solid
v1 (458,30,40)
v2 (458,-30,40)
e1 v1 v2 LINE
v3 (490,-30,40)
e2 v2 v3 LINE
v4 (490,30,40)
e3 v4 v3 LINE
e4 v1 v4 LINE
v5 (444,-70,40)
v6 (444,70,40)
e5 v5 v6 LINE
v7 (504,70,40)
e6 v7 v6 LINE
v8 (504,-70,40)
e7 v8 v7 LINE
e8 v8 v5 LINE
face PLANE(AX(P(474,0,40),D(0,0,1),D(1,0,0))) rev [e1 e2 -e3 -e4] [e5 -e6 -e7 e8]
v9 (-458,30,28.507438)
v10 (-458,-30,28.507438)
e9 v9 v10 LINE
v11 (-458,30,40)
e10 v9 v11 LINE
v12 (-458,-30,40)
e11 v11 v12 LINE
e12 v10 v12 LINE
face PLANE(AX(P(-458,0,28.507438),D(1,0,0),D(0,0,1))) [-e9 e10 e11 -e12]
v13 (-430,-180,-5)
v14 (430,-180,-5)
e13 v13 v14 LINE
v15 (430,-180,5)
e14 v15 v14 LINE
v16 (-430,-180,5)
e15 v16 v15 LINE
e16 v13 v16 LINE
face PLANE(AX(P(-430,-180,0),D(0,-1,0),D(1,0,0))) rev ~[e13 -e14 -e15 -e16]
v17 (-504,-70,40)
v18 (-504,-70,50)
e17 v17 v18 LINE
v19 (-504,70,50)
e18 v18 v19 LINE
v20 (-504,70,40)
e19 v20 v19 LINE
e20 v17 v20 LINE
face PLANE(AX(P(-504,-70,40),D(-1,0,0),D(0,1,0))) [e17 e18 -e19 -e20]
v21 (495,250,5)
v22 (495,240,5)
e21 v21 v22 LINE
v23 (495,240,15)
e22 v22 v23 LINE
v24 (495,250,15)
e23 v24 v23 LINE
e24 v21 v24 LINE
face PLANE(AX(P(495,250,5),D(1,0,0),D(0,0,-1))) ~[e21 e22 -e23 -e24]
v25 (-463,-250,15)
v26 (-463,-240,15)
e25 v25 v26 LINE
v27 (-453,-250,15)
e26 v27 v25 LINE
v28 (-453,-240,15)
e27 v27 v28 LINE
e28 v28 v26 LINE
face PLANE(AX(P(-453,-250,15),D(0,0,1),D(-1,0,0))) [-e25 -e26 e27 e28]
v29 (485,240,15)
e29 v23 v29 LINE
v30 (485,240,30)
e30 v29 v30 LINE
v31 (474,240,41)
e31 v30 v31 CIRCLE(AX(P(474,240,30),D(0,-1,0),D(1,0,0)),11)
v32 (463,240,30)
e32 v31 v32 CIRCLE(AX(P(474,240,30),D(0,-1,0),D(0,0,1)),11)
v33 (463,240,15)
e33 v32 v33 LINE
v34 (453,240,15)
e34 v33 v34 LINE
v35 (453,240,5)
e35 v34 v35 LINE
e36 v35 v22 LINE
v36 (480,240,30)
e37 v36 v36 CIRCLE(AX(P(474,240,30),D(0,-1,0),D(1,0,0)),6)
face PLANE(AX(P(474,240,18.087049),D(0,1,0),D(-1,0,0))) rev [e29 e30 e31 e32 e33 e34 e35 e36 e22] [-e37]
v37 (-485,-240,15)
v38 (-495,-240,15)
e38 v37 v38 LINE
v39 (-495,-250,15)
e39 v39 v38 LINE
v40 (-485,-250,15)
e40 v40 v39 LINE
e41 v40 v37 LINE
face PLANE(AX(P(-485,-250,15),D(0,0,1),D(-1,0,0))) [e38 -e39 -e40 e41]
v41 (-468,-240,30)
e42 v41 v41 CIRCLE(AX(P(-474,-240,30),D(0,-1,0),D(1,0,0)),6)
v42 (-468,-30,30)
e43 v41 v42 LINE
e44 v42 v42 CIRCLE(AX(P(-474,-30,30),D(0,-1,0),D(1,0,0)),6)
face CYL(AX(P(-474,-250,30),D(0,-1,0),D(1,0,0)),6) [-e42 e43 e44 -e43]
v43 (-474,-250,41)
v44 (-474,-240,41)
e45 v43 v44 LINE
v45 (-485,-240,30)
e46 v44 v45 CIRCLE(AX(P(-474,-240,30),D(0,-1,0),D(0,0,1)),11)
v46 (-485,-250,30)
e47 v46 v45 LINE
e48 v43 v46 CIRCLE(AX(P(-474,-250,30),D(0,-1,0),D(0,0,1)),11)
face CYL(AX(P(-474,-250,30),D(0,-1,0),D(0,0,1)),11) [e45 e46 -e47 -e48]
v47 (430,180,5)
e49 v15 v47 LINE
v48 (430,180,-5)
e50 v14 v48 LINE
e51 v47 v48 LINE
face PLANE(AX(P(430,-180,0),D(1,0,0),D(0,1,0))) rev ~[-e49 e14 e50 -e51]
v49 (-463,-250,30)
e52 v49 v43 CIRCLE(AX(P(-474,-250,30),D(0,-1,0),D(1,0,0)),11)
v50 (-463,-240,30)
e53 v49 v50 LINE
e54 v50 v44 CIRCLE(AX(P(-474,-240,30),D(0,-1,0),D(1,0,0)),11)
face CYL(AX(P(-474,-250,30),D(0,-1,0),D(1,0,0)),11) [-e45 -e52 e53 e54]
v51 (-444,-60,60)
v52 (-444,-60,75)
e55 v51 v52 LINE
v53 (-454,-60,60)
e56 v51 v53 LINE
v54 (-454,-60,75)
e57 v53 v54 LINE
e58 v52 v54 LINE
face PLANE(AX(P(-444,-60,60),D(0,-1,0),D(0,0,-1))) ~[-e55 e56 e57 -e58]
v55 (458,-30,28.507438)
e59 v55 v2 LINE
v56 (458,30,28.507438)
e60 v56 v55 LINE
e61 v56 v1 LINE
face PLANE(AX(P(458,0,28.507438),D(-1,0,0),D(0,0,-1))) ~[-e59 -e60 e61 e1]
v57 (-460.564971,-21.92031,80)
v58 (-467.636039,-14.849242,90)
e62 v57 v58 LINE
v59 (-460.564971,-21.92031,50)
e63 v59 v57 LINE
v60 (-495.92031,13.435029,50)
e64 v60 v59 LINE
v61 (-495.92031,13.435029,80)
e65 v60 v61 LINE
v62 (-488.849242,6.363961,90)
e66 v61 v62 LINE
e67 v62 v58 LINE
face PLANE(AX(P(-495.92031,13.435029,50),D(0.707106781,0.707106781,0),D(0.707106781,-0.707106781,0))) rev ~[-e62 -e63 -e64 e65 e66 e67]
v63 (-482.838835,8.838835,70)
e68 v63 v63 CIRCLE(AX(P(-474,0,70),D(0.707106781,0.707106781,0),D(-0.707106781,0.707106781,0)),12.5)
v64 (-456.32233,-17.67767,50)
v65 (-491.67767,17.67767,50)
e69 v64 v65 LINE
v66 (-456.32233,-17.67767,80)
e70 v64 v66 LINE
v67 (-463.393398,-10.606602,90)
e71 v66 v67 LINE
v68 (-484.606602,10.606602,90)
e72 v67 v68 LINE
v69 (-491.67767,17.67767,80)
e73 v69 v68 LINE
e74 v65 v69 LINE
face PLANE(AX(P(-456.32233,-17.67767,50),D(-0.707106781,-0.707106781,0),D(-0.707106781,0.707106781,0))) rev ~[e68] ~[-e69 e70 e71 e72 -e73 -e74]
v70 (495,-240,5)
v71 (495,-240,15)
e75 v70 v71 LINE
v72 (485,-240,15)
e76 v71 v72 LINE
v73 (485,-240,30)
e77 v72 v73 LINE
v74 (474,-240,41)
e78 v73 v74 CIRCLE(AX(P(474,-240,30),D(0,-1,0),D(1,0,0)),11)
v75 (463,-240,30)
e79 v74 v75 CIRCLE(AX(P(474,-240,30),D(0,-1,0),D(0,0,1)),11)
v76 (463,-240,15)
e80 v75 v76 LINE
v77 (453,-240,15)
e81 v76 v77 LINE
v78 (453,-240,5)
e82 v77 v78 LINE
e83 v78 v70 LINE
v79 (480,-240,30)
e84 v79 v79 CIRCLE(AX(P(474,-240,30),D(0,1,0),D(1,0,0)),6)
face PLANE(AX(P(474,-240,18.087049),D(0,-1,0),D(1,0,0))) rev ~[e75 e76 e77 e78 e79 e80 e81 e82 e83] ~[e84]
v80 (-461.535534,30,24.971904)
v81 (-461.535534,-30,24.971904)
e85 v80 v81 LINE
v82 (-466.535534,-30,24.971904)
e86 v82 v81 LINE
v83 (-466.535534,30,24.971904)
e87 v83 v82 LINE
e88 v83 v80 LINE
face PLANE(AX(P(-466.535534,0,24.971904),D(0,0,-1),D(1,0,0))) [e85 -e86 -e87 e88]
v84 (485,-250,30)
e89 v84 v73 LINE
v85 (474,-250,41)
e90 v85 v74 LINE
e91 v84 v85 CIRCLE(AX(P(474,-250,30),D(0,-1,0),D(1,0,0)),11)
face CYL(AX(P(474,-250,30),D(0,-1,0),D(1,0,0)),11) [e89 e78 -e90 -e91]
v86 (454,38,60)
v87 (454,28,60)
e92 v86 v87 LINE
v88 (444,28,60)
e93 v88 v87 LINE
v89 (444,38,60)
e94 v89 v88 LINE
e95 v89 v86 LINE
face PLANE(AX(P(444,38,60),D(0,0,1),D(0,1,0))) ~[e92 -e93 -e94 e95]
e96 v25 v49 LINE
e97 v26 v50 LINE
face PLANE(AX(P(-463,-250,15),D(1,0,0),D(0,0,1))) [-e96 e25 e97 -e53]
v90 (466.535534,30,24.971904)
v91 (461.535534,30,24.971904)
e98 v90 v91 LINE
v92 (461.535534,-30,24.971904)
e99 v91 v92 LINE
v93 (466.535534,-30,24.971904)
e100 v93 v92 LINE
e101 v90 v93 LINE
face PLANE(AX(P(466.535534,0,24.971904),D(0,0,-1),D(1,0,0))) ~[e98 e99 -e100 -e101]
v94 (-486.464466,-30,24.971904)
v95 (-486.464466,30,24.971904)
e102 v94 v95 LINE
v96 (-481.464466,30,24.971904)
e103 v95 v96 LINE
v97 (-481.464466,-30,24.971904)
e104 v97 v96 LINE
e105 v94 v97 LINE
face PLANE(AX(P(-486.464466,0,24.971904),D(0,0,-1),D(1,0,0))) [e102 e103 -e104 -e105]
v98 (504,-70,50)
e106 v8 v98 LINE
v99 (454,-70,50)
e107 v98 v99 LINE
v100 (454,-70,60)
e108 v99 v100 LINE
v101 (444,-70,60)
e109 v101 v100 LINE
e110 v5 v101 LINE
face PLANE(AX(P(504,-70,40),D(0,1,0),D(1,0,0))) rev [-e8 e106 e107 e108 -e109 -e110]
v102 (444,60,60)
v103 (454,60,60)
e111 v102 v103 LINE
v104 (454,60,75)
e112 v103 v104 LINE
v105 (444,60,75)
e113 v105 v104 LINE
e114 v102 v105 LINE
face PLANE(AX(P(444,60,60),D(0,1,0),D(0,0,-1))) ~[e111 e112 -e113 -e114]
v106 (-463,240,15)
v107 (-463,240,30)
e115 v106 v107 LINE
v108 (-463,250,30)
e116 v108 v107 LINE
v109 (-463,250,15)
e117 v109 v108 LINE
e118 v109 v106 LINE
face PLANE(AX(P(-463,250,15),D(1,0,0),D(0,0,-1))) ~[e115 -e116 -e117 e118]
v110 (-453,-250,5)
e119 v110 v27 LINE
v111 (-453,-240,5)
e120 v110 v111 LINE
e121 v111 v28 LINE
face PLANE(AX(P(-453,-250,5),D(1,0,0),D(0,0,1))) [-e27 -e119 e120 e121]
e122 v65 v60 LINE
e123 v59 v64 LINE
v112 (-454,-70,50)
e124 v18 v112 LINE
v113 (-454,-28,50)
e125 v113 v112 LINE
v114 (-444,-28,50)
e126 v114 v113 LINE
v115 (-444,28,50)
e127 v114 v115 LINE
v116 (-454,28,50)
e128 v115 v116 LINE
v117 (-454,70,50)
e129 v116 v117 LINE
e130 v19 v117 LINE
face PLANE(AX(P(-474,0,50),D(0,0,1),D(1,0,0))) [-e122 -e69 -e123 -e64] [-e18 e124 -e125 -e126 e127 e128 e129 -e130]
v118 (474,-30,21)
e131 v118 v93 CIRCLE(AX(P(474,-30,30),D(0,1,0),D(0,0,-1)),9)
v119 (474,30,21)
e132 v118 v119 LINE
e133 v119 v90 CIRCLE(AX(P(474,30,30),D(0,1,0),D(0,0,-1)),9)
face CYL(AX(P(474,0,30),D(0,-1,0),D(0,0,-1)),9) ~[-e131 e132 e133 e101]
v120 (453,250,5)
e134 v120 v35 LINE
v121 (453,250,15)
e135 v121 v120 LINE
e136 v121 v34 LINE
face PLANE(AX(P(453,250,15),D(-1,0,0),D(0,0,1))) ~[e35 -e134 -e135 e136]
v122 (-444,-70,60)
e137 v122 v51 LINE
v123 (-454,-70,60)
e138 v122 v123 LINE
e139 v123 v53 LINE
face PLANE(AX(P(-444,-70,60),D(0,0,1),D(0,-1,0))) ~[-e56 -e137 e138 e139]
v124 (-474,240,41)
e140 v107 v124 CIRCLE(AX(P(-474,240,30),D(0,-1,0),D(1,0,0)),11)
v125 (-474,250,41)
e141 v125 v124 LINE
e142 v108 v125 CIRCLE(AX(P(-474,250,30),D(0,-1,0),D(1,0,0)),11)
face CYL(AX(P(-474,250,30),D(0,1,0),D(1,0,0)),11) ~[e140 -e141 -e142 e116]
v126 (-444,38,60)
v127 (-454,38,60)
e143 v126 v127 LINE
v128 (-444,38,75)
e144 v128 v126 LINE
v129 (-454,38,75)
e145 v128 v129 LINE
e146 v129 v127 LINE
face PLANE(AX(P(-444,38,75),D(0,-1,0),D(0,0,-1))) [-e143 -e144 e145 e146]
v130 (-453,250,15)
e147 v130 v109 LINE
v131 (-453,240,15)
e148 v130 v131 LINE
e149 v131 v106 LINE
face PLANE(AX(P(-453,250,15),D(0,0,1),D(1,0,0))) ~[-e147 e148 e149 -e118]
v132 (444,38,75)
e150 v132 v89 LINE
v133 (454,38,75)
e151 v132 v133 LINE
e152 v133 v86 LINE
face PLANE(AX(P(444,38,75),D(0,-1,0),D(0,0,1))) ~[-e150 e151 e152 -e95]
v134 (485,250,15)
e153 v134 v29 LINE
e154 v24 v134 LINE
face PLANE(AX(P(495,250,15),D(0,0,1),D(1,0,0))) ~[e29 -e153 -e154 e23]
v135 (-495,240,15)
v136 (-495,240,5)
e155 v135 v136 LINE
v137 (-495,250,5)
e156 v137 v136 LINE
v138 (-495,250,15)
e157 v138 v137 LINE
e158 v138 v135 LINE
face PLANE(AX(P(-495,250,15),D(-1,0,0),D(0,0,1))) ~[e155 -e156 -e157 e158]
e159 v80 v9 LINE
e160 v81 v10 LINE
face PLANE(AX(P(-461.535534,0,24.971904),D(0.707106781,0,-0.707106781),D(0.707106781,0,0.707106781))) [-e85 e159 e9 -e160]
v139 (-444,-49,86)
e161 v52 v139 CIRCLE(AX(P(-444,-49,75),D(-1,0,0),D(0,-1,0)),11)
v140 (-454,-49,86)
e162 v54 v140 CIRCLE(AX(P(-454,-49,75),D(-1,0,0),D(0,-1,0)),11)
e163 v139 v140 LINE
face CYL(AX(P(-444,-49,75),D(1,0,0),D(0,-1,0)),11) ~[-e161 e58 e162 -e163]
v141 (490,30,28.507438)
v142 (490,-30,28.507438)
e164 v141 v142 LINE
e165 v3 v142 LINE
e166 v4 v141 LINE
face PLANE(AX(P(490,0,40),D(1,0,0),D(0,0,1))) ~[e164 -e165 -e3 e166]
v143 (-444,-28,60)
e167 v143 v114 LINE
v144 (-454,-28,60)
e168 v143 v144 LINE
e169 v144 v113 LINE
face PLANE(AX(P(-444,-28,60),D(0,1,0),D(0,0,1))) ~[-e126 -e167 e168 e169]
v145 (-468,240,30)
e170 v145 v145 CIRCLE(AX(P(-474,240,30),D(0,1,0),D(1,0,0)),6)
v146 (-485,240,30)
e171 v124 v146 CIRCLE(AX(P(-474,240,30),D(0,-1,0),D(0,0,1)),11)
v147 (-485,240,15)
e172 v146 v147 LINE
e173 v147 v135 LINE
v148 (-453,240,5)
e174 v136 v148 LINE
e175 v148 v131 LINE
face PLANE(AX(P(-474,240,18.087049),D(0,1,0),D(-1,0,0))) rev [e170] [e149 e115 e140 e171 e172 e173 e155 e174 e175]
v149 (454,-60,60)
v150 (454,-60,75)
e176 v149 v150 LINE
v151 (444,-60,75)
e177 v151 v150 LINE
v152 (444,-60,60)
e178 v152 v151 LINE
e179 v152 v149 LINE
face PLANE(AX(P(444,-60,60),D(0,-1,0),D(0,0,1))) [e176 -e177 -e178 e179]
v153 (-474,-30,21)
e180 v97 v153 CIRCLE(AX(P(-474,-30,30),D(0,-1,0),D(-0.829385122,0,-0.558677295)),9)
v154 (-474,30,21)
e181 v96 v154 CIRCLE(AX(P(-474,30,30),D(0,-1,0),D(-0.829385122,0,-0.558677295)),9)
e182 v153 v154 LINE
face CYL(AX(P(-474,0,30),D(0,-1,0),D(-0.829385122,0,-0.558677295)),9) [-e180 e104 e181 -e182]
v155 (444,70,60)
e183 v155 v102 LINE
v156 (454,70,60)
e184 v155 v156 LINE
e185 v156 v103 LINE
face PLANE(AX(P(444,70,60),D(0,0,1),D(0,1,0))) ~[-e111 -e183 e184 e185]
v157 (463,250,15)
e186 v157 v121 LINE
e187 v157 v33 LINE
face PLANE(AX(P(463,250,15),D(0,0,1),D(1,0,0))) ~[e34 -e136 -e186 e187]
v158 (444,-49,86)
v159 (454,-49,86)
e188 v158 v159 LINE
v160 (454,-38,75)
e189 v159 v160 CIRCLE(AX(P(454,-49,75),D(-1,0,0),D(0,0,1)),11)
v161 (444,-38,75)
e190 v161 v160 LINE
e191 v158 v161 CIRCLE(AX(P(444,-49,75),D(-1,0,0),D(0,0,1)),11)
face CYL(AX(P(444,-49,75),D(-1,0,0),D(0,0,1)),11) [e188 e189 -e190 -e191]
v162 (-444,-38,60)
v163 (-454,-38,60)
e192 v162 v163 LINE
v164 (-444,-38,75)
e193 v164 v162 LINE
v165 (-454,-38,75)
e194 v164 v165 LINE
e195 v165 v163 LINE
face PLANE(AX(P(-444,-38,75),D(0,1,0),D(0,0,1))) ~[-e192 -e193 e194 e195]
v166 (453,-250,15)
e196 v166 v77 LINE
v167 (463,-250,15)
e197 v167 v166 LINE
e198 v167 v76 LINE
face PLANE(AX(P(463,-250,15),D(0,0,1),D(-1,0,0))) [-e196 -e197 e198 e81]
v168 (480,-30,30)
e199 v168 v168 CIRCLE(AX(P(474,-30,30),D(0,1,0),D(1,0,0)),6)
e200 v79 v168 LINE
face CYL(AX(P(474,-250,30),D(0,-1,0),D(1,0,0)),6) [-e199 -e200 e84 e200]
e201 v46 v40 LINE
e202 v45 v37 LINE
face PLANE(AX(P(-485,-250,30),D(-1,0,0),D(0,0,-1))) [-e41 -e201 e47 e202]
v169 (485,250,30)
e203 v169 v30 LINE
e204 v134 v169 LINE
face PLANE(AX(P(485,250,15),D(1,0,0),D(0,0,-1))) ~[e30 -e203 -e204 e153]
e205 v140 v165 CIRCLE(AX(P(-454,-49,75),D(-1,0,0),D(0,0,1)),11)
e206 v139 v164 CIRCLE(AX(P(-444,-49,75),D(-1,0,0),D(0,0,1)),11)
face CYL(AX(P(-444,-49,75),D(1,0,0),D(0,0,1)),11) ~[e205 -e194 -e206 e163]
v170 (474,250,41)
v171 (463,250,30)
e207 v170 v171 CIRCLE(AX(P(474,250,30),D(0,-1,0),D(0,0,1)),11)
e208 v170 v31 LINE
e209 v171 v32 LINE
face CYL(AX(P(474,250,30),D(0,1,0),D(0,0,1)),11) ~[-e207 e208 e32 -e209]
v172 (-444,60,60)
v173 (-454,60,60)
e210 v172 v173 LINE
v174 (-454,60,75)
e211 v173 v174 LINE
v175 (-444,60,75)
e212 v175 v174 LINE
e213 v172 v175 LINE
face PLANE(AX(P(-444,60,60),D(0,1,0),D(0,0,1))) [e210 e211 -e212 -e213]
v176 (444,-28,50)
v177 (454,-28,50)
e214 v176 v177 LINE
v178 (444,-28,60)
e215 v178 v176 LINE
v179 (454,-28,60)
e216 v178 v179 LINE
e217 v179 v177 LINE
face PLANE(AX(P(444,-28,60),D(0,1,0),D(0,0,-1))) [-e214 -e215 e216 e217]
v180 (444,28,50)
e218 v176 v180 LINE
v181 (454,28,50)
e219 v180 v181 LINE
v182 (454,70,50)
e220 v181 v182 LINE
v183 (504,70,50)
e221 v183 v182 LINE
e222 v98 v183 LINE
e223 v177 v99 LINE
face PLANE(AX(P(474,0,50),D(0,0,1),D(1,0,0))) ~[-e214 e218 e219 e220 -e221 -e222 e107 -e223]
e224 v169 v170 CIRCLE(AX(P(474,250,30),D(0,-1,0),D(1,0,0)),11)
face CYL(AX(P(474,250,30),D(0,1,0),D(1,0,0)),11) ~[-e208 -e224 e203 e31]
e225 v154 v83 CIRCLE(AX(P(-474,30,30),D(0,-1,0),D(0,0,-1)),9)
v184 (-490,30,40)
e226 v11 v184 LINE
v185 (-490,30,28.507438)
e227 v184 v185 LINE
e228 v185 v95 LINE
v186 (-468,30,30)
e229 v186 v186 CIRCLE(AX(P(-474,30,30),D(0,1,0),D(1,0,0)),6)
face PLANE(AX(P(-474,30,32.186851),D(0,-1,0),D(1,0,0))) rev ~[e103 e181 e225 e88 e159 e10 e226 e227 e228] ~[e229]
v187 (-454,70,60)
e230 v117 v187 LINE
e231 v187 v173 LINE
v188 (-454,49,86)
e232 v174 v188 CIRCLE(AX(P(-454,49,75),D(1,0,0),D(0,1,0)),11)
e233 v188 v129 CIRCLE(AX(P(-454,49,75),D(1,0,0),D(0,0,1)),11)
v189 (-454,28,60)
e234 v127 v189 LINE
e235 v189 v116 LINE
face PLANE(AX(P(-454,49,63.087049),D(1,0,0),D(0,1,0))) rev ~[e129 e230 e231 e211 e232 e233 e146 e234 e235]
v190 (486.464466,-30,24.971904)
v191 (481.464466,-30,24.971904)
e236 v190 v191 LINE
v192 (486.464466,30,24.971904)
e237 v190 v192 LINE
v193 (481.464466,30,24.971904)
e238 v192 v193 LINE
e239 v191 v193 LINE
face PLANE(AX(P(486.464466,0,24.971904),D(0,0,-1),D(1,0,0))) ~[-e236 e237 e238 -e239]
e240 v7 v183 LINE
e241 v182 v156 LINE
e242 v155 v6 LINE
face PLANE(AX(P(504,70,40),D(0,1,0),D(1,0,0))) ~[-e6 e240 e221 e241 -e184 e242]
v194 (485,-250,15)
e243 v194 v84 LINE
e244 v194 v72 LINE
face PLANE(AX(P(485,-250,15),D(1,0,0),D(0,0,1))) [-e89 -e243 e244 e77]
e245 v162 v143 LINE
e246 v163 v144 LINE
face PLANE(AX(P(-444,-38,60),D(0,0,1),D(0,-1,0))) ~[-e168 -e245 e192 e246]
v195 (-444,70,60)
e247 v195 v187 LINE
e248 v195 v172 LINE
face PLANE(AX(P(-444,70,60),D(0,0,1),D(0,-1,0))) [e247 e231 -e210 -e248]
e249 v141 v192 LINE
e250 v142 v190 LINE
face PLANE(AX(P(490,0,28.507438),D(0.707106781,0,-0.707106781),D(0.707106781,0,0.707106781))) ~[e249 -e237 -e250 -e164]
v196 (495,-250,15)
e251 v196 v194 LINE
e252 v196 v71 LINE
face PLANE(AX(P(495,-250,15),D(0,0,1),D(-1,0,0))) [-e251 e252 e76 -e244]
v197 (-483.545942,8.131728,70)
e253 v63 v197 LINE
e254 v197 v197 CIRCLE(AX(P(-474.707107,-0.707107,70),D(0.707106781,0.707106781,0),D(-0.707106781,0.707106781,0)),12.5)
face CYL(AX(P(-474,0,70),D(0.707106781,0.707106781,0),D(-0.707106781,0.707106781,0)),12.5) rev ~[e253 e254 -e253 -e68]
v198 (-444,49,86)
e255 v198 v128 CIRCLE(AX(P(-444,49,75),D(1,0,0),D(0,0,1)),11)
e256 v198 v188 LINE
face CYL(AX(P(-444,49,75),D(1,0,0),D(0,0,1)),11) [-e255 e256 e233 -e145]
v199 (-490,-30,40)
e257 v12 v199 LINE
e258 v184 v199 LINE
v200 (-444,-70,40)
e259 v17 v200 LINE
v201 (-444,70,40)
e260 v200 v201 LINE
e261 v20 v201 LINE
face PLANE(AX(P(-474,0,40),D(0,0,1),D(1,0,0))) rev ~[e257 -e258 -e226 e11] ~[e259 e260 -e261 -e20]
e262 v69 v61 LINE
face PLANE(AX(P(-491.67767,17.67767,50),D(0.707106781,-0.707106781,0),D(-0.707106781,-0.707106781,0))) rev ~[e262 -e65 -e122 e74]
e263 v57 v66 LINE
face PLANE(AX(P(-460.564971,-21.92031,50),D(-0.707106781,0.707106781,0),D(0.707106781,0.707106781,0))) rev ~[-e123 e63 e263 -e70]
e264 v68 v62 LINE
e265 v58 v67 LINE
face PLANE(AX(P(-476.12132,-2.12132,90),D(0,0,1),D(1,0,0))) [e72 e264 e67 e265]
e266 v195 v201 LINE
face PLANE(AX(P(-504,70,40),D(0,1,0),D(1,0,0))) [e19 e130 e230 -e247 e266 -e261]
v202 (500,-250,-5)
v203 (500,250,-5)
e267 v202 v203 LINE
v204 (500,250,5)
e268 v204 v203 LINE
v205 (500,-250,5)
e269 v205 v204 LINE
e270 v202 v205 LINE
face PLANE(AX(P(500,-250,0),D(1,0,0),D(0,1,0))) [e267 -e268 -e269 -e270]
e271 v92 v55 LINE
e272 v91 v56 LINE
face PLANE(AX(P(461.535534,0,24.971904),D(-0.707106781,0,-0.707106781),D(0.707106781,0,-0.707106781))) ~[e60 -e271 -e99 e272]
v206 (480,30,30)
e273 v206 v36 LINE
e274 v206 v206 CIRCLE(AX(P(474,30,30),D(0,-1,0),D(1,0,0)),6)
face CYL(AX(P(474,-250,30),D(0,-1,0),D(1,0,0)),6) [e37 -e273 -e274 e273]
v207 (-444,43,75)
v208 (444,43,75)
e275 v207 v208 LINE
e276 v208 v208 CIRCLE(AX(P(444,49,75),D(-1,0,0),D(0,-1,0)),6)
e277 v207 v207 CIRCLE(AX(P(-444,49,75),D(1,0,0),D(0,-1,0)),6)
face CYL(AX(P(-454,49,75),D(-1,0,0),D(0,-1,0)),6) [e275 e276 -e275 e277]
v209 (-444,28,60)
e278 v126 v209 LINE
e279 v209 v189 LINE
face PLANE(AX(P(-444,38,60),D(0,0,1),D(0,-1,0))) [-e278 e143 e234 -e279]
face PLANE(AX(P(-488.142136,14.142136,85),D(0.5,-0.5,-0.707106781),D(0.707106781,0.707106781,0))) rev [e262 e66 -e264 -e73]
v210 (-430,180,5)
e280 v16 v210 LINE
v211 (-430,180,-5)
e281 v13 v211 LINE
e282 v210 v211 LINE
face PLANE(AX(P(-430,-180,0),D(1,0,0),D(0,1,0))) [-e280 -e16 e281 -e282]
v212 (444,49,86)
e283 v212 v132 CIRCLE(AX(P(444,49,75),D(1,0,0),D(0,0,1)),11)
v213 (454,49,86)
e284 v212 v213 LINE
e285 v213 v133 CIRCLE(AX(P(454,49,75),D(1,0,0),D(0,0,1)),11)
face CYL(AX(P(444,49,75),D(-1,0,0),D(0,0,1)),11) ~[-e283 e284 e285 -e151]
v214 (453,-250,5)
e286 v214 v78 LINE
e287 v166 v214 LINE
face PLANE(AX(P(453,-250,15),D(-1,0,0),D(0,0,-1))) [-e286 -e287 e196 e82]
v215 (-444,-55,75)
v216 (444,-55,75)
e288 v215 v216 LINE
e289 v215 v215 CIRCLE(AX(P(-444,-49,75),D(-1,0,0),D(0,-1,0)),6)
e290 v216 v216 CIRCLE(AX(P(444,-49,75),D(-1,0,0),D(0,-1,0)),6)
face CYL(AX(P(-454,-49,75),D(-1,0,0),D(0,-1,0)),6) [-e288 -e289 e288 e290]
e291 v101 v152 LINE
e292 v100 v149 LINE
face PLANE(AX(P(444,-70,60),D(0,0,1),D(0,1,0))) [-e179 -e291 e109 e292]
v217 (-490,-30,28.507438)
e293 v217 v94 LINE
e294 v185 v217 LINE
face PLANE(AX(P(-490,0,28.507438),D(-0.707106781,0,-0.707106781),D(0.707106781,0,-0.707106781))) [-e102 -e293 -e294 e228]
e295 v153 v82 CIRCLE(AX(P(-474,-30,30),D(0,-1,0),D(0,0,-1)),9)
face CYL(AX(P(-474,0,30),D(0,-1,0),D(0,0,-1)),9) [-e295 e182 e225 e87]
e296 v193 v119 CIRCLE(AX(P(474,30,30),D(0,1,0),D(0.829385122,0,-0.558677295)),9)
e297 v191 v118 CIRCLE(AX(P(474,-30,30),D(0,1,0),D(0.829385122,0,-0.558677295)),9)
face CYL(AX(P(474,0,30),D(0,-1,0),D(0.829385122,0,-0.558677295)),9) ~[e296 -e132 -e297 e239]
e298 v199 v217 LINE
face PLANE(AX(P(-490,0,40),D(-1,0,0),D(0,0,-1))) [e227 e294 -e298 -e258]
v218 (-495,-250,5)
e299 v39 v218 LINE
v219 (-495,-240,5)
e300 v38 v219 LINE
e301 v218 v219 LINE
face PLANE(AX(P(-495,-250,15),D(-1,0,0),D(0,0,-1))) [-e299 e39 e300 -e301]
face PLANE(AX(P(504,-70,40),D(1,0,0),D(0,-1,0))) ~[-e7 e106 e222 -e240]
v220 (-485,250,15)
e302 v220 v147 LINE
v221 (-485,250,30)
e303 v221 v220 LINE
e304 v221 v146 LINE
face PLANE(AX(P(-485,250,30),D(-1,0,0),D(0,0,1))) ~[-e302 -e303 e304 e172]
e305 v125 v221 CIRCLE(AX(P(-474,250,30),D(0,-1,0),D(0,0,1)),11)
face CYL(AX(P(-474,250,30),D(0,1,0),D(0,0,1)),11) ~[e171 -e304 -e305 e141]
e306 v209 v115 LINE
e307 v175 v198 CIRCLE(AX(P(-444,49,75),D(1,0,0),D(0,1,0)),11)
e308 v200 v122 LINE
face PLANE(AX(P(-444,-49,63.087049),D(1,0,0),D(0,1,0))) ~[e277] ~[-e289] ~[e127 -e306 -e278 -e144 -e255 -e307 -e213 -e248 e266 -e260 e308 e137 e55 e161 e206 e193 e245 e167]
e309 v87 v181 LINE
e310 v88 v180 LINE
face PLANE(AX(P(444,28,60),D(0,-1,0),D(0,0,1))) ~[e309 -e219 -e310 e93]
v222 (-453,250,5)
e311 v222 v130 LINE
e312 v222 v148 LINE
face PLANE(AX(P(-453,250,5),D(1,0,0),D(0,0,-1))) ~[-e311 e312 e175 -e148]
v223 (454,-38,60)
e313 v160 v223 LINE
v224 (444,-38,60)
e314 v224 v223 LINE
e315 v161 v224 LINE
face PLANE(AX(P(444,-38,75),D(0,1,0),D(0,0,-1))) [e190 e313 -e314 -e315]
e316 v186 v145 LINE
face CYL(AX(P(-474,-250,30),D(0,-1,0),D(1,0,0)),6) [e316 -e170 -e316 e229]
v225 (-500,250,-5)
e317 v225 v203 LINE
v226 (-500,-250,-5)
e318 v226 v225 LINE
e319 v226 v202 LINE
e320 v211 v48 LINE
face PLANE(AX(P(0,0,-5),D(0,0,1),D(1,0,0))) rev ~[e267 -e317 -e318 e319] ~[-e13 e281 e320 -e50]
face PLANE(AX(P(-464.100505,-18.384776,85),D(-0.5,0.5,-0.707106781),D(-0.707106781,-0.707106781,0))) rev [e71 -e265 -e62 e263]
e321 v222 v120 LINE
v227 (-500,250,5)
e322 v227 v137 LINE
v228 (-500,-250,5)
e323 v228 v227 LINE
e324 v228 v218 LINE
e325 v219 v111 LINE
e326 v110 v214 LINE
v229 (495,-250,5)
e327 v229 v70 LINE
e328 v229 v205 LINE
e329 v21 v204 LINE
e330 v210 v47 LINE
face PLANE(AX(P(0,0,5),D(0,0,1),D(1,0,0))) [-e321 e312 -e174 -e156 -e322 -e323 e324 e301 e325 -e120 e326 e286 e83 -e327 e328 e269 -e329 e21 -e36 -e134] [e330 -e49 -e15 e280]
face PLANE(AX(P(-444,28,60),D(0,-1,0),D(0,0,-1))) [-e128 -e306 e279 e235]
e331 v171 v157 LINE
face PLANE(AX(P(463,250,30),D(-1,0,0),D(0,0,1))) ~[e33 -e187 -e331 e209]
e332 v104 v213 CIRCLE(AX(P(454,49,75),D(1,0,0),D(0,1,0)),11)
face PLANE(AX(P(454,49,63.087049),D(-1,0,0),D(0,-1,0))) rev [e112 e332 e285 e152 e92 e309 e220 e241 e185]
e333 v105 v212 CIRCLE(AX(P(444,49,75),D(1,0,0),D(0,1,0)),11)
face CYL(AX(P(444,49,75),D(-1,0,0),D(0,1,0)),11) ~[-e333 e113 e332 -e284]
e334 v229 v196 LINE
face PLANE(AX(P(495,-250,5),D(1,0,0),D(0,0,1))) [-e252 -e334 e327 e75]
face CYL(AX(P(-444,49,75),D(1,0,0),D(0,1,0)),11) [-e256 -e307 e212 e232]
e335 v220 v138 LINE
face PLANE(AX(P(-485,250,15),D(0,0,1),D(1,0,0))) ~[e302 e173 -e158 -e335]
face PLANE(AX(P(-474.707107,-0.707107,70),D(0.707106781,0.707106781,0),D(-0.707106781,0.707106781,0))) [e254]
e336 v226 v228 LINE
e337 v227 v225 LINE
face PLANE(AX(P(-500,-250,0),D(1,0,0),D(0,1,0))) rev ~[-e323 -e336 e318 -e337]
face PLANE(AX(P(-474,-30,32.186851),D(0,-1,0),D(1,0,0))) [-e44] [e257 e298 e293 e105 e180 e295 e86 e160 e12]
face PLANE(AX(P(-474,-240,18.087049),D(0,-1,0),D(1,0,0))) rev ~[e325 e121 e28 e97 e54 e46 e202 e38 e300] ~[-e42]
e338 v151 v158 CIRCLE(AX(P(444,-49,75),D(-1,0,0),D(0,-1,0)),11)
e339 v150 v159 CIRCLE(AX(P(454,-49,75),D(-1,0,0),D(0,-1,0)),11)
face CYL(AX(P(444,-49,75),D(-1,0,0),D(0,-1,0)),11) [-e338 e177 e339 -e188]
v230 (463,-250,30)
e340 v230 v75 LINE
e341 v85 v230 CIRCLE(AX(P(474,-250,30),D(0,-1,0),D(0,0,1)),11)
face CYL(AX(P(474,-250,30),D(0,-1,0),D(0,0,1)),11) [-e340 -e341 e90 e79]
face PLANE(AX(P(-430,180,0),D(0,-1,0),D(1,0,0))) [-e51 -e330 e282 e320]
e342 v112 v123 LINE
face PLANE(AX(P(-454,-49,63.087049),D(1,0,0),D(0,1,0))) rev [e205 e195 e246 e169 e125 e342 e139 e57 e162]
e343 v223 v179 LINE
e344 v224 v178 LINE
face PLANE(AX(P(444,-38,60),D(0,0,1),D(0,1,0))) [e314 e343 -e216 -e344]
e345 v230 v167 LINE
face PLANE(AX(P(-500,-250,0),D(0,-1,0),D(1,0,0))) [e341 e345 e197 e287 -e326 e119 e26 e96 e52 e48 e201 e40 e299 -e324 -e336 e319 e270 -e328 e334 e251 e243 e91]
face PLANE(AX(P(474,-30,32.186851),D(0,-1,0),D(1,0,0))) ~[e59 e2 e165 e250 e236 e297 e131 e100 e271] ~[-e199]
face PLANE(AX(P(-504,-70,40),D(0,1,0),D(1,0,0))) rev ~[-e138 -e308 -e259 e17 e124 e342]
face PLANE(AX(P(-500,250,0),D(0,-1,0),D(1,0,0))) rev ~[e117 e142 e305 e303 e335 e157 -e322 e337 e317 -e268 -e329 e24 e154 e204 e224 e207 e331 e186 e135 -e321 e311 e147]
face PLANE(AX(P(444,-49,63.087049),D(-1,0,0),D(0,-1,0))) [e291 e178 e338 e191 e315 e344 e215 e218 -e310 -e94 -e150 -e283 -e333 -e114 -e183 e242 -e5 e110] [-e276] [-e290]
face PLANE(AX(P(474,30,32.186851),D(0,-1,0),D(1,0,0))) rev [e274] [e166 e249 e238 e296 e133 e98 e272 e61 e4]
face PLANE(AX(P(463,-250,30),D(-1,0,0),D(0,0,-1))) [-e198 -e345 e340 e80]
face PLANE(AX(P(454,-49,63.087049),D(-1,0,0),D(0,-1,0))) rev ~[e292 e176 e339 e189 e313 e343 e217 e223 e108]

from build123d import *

# Parameters (mm, degrees)
F0_W      = 1000
F0_H      = 500
F0_W_2    = 860
F0_H_2    = 360
F1_DEPTH  = 5
F2_R      = 6
F3_DEPTH  = 10
F5_R      = 6
F6_DEPTH  = 500
F8_DEPTH  = 30
F10_W     = 60
F10_H     = 140
F11_DEPTH = 10
F13_R     = 6
F14_DEPTH = 10
F17_R     = 6
F18_DEPTH = 908
F20_DEPTH = 40
F22_SIZE  = 10
F21_R     = 12.5
F23_DEPTH = 1


with BuildPart() as f1:
    # F0 (on Top) → F1 (new body, symmetric)
    with BuildSketch(Plane.XY):
        Rectangle(F0_W, F0_H)
        Rectangle(F0_W_2, F0_H_2, mode=Mode.SUBTRACT)
    extrude(amount=F1_DEPTH, both=True)

    # F2 (on face) → F3 (join)
    with BuildSketch(Plane.XZ.offset(250)):
        with BuildLine():
            ThreePointArc((-474, 41), (-481.7781745931, 37.7781745931), (-485, 30))
            Line((-485, 30), (-485, 15))
            Line((-485, 15), (-495, 15))
            Line((-495, 15), (-495, 5))
            Line((-495, 5), (-453, 5))
            Line((-453, 5), (-453, 15))
            Line((-453, 15), (-463, 15))
            Line((-463, 15), (-463, 30))
            ThreePointArc((-463, 30), (-466.2218254069, 37.7781745931), (-474, 41))
        make_face()
        with Locations((-474, 30)):
            Circle(F2_R, mode=Mode.SUBTRACT)
        with BuildLine():
            ThreePointArc((474, 41), (466.2218254069, 37.7781745931), (463, 30))
            Line((463, 30), (463, 15))
            Line((463, 15), (453, 15))
            Line((453, 15), (453, 5))
            Line((453, 5), (495, 5))
            Line((495, 5), (495, 15))
            Line((495, 15), (485, 15))
            Line((485, 15), (485, 30))
            ThreePointArc((485, 30), (481.7781745931, 37.7781745931), (474, 41))
        make_face()
        with Locations((474, 30)):
            Circle(F2_R, mode=Mode.SUBTRACT)
    extrude(amount=-F3_DEPTH)

    # F4: F1 across plane


with BuildPart() as f1_1:
    add(f1.part)
    add(f1.part.mirror(Plane.XZ))

    # F5 (on face) → F6 (join, through all)
    with BuildSketch(Plane.XZ.offset(250)):
        with Locations((-474, 30)):
            Circle(F5_R)
        with Locations((474, 30)):
            Circle(F5_R)
    extrude(amount=-F6_DEPTH)

    # F7 (on Front) → F8 (join, symmetric)
    with BuildSketch(Plane.XZ):
        with BuildLine():
            ThreePointArc((-474, 21), (-469.7722855411, 22.0547856886), (-466.5355339059, 24.9719043435))
            Line((-466.5355339059, 24.9719043435), (-461.5355339059, 24.9719043435))
            Line((-461.5355339059, 24.9719043435), (-458, 28.5074382495))
            Line((-458, 28.5074382495), (-458, 40))
            Line((-458, 40), (-474, 40))
            Line((-474, 40), (-490, 40))
            Line((-490, 40), (-490, 28.5074382495))
            Line((-490, 28.5074382495), (-486.4644660941, 24.9719043435))
            Line((-486.4644660941, 24.9719043435), (-481.4644660941, 24.9719043435))
            ThreePointArc((-481.4644660941, 24.9719043435), (-478.2277144589, 22.0547856886), (-474, 21))
        make_face()
    extrude(amount=F8_DEPTH, both=True)

    # F9: F1 across plane


with BuildPart() as f1_2:
    add(f1_1.part)
    add(f1_1.part.mirror(Plane.YZ))

    # F10 (on face) → F11 (join)
    with BuildSketch(Plane.XY.offset(40)):
        with Locations((-474, 0)):
            Rectangle(F10_W, F10_H)
    extrude(amount=F11_DEPTH)

    # F12: F1 across plane


with BuildPart() as f1_3:
    add(f1_2.part)
    add(f1_2.part.mirror(Plane.YZ))

    # F13 (on face) → F14 (join)
    with BuildSketch(Plane.YZ.offset(-444)):
        with BuildLine():
            Line((28, 60), (28, 50))
            Line((28, 50), (49, 50))
            Line((49, 50), (70, 50))
            Line((70, 50), (70, 60))
            Line((70, 60), (60, 60))
            Line((60, 60), (60, 75))
            ThreePointArc((60, 75), (56.7781745931, 82.7781745931), (49, 86))
            ThreePointArc((49, 86), (41.2218254069, 82.7781745931), (38, 75))
            Line((38, 75), (38, 60))
            Line((38, 60), (28, 60))
        make_face()
        with Locations((49, 75)):
            Circle(F13_R, mode=Mode.SUBTRACT)
    extrude(amount=-F14_DEPTH)

    # F15: F1 across plane


with BuildPart() as f1_4:
    add(f1_3.part)
    add(f1_3.part.mirror(Plane.XZ))

    # F16: F1 across plane


with BuildPart() as f1_5:
    add(f1_4.part)
    add(f1_4.part.mirror(Plane.YZ))

    # F17 (on face) → F18 (join, through all)
    with BuildSketch(Plane(origin=(-454, 0, 0), x_dir=(0, -1, 0), z_dir=(-1, 0, 0))):
        with Locations((-49, 75)):
            Circle(F17_R)
        with Locations((49, 75)):
            Circle(F17_R)
    extrude(amount=-F18_DEPTH)

    # F19 (on face) → F20 (join)
    with BuildSketch(Plane.XY.offset(50)):
        Polygon((-456.3223304703, -17.6776695297), (-491.6776695297, 17.6776695297), (-495.9203102168, 13.4350288425), (-460.5649711575, -21.9203102168), align=None)
    extrude(amount=F20_DEPTH)

    # F22
    f22_edges = [f1_5.edges().sort_by_distance(p)[0] for p in [
        (-458.443651, -19.79899, 90),
        (-493.79899, 15.556349, 90),
    ]]
    chamfer(f22_edges, length=F22_SIZE)

    # F21 (on face) → F23 (cut)
    with BuildSketch(Plane(origin=(-237, -237, 0), x_dir=(-0.7071067812, 0.7071067812, 0), z_dir=(0.7071067812, 0.7071067812, 0))):
        with Locations((335.1686142824, 70)):
            Circle(F21_R)
    extrude(amount=-F23_DEPTH, mode=Mode.SUBTRACT)


solid = f1_5.part
